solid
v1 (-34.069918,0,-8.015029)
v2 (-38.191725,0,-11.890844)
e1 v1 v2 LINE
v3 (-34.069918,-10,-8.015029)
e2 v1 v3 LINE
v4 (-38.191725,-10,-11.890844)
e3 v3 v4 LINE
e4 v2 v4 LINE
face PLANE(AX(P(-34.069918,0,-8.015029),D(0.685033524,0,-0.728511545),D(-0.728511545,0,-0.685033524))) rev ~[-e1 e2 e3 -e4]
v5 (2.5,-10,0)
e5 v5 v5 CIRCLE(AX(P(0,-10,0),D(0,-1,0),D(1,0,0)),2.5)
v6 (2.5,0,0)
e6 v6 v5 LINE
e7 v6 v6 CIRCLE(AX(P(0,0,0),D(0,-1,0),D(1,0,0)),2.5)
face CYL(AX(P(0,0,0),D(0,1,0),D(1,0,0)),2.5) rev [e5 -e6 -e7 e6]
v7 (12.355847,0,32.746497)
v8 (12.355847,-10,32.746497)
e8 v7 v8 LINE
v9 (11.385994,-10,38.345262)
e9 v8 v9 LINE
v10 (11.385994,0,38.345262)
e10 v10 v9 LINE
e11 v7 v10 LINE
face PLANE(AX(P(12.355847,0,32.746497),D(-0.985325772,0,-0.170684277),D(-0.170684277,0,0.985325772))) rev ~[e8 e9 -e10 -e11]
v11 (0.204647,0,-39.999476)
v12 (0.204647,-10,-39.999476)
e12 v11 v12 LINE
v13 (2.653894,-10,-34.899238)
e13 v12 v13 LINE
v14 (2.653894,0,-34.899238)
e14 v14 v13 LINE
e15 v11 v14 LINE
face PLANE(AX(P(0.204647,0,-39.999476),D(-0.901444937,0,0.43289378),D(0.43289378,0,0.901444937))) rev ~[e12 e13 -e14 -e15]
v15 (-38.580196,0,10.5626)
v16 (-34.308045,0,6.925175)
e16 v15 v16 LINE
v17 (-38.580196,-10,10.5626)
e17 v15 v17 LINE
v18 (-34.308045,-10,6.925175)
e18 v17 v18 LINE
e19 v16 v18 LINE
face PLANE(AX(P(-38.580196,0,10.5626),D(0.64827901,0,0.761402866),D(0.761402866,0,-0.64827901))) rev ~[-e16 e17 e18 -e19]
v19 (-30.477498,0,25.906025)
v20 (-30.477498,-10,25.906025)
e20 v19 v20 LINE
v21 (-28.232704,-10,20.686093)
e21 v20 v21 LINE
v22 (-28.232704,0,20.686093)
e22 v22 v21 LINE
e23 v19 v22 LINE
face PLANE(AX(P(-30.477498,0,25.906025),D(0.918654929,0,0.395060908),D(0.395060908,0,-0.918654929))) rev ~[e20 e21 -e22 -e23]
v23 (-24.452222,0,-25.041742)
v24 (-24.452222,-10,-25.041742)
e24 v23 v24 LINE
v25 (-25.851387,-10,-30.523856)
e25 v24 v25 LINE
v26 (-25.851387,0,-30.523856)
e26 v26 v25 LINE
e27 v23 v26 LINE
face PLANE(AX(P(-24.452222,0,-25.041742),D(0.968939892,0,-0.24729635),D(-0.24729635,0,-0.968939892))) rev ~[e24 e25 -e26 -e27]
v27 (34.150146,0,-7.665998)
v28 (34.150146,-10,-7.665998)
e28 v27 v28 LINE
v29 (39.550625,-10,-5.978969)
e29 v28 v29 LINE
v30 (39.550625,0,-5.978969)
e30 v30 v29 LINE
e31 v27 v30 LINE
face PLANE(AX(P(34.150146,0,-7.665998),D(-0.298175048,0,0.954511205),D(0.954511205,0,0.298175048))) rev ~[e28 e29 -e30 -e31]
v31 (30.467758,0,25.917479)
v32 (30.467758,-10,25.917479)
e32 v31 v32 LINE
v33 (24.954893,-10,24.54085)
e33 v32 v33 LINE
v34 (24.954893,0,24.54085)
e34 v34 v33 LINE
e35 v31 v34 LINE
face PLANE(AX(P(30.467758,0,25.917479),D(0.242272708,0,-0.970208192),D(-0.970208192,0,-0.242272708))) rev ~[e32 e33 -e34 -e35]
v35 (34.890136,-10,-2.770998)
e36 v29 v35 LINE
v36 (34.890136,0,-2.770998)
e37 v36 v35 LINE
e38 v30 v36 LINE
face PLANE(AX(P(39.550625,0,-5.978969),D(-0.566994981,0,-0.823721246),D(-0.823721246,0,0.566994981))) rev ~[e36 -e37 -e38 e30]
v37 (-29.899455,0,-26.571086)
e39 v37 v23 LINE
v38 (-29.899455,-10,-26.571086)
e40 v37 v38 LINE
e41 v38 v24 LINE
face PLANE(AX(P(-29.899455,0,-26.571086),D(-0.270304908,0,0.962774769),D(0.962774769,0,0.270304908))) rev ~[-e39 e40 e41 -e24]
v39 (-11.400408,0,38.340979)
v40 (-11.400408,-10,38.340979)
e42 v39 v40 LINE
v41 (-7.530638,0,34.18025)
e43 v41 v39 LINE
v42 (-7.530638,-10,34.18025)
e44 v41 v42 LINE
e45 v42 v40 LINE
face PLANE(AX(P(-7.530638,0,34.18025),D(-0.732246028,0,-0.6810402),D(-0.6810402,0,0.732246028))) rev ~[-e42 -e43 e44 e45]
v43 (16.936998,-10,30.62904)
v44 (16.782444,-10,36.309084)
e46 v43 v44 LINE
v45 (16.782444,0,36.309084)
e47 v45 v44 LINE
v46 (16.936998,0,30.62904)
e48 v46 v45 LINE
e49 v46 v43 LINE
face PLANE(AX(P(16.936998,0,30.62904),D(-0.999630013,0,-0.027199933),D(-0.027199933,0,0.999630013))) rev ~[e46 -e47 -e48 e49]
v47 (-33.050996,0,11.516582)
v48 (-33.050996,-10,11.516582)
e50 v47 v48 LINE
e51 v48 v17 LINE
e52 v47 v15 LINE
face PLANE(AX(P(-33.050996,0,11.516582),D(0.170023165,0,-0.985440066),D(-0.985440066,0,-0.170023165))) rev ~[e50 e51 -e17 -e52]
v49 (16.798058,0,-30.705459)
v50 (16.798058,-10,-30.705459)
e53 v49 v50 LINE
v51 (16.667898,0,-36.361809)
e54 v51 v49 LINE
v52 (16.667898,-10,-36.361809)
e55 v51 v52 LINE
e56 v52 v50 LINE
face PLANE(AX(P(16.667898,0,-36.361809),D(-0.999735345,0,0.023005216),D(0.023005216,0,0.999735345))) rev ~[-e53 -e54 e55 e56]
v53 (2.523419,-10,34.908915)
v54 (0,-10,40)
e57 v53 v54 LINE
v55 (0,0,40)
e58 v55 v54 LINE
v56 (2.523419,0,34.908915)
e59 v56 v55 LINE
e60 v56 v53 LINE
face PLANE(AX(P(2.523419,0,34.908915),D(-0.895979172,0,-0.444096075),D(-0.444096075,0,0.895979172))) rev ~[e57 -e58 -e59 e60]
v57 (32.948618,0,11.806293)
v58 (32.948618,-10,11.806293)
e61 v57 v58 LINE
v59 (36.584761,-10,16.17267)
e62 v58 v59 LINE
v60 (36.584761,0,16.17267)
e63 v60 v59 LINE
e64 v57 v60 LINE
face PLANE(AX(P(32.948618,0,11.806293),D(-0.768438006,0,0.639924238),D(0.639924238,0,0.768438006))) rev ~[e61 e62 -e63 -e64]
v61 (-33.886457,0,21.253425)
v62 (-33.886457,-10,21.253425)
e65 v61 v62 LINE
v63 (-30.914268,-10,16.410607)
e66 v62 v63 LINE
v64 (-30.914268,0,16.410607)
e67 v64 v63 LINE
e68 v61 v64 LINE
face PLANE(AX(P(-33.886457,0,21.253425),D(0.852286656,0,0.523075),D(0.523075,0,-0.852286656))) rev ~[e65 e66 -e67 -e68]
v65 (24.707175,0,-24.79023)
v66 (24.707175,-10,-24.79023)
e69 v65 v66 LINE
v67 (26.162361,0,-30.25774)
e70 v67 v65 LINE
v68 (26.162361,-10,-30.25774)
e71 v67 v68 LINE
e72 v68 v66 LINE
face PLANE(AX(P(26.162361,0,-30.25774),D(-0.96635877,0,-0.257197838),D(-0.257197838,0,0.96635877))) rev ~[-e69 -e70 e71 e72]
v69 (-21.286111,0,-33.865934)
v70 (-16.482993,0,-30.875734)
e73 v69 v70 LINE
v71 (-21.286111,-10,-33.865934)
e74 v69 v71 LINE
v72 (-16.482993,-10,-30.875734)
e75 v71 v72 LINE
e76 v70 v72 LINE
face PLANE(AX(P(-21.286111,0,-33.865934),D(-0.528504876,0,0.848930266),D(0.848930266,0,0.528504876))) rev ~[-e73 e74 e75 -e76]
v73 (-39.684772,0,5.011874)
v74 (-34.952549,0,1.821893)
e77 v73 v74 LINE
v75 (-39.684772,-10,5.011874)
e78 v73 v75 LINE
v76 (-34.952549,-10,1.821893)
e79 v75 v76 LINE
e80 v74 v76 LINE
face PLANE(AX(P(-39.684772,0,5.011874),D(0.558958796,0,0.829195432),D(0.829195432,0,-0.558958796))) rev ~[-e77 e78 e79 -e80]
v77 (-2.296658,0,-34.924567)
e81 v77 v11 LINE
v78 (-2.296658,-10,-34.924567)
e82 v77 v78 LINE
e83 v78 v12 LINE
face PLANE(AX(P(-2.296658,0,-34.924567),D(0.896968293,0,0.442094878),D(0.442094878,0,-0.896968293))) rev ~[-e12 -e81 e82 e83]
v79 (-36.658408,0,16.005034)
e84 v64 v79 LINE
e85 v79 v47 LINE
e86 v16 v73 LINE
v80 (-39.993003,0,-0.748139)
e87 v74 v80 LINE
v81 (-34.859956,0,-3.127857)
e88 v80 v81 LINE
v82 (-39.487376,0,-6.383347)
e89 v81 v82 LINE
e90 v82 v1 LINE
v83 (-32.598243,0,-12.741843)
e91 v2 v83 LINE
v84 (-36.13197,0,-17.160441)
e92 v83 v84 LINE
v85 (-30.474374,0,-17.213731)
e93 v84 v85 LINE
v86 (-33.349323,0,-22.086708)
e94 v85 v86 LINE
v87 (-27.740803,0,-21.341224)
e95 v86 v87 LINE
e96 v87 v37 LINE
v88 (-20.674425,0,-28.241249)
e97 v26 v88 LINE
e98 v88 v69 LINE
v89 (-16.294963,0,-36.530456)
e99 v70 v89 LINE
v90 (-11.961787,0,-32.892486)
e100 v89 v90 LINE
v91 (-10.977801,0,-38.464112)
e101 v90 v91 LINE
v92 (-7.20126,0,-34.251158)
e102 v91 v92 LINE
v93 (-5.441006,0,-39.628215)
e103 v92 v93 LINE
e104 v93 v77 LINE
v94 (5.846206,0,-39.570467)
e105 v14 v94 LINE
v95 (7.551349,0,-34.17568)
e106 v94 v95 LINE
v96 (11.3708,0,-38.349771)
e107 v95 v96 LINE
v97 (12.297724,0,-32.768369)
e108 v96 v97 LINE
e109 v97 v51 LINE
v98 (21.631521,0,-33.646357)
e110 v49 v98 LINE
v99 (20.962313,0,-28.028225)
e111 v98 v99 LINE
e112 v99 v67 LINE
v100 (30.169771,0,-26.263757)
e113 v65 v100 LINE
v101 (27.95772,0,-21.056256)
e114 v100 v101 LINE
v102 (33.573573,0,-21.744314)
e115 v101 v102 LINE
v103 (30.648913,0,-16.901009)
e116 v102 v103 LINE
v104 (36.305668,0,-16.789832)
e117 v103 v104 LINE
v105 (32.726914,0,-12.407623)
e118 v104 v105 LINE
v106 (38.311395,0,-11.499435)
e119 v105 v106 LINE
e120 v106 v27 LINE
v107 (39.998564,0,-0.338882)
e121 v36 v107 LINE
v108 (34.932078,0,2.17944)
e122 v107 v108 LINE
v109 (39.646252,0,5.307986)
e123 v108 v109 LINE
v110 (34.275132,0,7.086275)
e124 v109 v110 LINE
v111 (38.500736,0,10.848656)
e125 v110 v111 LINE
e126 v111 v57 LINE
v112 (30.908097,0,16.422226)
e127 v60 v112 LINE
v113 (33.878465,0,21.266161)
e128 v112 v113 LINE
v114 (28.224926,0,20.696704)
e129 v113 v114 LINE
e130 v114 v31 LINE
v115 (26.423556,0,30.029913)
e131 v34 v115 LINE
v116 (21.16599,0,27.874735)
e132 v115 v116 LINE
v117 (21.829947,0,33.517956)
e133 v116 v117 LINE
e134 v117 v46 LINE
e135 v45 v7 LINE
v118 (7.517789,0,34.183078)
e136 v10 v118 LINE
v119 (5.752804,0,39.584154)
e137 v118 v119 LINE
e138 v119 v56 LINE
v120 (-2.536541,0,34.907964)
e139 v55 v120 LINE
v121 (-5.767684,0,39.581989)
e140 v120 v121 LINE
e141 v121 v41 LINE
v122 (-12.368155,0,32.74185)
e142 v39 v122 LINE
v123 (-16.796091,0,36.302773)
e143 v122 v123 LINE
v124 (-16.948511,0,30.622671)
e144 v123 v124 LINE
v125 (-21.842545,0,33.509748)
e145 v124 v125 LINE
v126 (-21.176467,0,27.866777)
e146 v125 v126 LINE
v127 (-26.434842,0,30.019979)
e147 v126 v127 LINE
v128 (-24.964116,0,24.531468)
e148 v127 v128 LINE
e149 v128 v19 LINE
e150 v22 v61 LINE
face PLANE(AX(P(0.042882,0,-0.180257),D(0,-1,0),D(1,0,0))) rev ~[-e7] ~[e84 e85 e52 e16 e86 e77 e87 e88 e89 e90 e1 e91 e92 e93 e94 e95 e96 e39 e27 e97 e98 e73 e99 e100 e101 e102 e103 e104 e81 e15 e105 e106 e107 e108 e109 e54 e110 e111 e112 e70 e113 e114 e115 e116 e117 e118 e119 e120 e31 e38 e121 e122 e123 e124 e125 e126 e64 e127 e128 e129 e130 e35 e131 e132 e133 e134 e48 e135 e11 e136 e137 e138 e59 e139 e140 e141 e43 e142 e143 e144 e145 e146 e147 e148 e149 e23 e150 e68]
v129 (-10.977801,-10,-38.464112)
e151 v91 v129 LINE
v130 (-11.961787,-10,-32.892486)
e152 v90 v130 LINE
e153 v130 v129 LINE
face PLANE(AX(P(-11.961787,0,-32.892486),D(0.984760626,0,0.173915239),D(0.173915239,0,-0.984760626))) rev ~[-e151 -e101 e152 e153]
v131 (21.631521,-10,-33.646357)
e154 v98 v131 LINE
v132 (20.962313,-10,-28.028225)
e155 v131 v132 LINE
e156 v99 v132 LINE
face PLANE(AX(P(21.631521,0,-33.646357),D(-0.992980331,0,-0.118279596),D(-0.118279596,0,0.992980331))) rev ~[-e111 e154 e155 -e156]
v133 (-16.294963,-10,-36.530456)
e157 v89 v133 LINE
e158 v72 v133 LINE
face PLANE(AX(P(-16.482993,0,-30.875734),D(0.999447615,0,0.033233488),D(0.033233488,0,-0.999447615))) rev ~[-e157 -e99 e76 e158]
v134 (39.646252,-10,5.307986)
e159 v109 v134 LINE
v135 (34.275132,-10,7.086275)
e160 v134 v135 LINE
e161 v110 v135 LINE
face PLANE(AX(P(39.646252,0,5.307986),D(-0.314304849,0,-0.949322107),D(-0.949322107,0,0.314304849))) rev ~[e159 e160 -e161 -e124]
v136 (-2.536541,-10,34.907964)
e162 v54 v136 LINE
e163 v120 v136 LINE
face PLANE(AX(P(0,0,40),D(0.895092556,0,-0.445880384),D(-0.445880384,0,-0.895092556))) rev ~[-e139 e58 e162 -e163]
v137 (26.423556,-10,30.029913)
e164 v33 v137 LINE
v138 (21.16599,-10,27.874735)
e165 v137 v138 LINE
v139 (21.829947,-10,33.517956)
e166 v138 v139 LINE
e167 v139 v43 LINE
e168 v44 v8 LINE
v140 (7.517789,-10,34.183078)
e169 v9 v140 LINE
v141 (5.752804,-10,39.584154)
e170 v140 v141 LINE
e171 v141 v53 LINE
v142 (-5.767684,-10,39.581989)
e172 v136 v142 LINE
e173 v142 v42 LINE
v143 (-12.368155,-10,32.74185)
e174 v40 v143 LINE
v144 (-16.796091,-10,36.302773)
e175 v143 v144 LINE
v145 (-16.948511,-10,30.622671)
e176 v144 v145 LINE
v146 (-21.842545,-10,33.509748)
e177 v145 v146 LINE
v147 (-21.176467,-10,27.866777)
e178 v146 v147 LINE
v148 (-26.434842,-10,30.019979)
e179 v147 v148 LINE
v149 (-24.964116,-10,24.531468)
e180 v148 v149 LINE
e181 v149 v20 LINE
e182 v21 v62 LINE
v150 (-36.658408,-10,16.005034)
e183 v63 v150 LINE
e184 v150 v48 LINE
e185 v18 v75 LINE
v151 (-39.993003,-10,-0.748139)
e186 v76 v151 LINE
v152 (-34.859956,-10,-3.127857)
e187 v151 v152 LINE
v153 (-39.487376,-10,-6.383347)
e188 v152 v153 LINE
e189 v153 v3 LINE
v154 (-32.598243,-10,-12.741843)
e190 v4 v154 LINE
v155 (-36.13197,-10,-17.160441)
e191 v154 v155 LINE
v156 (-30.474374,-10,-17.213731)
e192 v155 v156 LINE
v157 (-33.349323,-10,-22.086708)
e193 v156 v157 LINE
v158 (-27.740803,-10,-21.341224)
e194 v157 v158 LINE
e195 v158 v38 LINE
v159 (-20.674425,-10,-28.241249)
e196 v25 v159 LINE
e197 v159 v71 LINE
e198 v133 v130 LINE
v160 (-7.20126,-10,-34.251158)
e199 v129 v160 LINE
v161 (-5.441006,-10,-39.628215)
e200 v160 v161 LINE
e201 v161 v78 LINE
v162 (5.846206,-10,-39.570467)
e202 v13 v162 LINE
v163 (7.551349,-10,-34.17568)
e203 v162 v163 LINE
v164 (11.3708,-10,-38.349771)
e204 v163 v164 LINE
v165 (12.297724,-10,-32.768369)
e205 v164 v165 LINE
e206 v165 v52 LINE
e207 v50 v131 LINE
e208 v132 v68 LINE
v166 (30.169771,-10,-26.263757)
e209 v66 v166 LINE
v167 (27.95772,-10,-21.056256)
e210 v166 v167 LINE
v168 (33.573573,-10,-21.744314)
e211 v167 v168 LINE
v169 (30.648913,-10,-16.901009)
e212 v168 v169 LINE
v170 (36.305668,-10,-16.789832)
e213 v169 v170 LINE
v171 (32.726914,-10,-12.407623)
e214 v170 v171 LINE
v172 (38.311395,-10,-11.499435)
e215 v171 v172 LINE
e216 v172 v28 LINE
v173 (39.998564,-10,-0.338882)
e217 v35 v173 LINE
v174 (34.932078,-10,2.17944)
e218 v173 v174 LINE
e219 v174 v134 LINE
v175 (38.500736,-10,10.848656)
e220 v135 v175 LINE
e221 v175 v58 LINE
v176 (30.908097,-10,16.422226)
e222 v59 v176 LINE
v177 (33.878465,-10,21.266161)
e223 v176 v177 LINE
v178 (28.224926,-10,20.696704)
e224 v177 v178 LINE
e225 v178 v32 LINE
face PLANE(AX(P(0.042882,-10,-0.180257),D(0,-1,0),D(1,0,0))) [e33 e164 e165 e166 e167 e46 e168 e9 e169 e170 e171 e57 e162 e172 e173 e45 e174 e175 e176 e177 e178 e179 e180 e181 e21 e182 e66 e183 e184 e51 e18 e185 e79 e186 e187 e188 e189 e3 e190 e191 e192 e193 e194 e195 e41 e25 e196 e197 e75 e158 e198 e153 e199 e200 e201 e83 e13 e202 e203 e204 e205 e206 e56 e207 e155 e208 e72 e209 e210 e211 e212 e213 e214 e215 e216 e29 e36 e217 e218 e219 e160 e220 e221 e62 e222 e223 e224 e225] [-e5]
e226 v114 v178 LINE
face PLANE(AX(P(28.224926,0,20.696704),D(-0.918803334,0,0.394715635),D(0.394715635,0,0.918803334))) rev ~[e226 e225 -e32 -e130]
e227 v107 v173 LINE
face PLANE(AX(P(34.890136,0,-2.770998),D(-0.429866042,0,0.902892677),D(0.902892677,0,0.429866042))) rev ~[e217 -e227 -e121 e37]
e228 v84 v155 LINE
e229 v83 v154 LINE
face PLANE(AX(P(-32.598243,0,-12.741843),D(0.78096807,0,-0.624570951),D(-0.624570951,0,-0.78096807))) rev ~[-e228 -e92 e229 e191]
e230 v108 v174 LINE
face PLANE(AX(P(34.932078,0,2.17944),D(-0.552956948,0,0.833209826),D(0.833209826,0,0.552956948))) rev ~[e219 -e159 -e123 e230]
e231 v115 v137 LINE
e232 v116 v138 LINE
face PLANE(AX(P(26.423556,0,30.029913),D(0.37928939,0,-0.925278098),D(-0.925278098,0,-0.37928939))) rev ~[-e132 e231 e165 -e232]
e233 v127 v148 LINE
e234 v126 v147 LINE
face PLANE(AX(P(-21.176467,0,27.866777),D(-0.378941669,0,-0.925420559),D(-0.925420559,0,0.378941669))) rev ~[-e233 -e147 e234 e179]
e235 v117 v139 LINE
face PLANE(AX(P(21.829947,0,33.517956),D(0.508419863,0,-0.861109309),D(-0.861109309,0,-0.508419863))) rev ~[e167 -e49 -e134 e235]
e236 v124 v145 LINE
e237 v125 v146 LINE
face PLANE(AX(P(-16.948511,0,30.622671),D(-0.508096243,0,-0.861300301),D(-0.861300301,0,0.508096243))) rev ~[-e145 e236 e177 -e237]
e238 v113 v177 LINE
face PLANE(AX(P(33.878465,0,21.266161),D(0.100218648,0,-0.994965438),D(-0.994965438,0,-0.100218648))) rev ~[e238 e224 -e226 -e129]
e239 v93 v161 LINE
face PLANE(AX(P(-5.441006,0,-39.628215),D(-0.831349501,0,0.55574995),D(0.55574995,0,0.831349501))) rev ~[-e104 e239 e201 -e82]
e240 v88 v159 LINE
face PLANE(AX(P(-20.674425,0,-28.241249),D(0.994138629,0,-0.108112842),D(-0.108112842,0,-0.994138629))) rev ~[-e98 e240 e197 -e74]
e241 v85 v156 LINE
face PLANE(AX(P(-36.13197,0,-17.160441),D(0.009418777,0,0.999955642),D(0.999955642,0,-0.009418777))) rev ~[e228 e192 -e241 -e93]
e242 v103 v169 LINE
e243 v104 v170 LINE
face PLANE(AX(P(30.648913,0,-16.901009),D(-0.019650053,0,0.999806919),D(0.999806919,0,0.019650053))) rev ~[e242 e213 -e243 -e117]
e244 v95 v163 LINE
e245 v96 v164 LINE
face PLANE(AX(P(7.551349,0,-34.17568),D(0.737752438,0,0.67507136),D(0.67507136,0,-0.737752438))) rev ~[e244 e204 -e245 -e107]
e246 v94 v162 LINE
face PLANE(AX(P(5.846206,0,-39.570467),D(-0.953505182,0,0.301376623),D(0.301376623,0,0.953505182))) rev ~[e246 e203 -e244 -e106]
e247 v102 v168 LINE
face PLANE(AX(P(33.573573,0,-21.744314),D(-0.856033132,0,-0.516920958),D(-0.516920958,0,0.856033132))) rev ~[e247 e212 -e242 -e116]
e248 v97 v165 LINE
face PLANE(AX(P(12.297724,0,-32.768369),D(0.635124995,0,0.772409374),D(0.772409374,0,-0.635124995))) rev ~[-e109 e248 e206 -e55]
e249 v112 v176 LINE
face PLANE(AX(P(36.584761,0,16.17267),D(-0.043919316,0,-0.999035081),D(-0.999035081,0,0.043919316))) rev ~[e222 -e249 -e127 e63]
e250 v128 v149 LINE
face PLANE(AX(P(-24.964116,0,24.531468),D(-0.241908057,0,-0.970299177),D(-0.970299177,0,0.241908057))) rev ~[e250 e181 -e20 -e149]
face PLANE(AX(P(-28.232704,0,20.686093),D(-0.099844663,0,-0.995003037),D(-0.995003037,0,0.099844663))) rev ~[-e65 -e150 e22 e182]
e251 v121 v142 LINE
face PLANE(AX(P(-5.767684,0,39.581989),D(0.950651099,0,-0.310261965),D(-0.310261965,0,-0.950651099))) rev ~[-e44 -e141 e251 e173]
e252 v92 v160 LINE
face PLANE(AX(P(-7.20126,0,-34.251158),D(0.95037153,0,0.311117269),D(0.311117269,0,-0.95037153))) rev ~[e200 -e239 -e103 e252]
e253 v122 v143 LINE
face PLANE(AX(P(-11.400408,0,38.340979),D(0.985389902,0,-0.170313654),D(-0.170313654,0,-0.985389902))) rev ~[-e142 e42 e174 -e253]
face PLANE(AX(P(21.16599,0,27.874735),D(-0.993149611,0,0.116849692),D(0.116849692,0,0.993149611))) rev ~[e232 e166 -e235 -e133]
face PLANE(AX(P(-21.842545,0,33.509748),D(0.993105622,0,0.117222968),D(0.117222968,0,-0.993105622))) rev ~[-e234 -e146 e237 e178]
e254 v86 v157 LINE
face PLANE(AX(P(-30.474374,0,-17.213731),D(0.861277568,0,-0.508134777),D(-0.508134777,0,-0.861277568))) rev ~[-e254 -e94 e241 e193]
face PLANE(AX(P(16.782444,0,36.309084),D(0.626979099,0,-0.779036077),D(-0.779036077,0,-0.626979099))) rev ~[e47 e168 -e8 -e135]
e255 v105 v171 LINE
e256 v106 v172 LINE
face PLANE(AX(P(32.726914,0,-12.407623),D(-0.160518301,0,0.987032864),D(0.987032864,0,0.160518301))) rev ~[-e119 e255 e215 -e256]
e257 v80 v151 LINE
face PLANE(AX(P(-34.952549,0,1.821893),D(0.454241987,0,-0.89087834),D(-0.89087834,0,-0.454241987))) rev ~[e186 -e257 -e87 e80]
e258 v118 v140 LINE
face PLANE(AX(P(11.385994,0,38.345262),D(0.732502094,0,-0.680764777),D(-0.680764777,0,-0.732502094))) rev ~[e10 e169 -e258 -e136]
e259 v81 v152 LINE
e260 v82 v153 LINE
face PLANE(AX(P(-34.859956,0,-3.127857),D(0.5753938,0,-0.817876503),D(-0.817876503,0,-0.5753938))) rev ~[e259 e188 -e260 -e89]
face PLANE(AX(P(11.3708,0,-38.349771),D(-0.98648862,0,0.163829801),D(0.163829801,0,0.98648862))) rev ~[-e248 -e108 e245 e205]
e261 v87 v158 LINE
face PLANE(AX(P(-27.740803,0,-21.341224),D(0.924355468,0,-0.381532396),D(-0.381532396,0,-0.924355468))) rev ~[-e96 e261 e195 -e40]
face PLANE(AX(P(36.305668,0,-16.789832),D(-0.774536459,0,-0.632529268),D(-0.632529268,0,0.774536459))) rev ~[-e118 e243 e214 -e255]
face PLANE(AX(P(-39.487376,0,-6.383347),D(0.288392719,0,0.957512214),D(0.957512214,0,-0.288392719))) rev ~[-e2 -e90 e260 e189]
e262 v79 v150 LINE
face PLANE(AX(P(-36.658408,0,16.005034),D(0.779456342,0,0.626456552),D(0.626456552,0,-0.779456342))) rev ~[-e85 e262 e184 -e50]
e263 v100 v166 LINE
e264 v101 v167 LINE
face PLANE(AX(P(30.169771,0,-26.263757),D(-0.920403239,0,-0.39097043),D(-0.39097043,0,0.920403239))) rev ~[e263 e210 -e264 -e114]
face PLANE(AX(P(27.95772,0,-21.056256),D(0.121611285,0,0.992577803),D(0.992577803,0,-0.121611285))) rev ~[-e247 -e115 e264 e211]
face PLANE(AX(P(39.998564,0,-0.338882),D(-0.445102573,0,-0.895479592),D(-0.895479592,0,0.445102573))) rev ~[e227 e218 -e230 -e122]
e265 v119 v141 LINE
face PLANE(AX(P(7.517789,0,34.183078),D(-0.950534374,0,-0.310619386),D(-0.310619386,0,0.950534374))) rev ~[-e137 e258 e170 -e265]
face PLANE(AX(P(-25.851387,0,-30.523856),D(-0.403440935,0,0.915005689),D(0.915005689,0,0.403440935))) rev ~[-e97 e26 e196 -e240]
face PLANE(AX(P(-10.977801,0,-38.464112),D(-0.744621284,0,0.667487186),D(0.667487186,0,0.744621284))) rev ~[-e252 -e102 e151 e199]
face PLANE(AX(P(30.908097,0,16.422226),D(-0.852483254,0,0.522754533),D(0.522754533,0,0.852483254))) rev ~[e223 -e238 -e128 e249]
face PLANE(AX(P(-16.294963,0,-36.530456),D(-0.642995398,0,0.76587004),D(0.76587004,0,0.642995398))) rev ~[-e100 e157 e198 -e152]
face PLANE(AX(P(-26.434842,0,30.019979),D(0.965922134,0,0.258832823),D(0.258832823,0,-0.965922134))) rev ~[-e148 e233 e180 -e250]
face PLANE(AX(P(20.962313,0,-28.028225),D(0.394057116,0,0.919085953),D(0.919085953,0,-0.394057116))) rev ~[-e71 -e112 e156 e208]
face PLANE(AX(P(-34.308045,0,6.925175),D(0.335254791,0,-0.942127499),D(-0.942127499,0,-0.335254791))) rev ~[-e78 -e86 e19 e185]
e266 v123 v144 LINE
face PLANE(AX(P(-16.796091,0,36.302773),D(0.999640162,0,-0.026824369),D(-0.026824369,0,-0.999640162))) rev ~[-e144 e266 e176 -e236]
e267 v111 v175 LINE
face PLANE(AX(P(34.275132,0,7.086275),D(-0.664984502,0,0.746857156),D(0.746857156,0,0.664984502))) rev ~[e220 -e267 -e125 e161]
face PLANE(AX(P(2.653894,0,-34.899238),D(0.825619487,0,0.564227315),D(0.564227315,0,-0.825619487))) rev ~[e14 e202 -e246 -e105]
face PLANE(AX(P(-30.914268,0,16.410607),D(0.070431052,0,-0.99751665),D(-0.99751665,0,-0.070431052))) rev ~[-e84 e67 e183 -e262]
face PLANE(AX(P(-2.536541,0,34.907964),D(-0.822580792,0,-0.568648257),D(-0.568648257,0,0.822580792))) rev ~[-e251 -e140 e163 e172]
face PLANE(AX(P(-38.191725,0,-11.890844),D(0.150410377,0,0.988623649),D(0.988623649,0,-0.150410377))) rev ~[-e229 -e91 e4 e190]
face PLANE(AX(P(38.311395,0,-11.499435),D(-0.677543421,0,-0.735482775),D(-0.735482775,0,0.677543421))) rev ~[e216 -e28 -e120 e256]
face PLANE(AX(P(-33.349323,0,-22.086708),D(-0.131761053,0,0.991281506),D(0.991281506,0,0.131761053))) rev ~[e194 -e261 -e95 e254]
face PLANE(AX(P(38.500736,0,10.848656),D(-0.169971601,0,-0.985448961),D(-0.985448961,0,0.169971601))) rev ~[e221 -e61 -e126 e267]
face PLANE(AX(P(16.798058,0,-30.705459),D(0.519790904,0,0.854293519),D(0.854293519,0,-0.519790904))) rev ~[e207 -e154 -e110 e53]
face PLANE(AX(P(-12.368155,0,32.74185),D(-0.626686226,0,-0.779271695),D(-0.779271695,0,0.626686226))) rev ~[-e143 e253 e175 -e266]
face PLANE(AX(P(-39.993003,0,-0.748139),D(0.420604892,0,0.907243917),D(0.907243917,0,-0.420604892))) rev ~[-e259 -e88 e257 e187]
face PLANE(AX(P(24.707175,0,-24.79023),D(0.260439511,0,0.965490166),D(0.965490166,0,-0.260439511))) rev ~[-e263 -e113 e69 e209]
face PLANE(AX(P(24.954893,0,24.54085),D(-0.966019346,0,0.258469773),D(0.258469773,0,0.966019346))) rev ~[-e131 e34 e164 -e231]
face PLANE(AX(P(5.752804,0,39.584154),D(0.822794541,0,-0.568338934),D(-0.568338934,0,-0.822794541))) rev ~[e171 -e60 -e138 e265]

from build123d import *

# Parameters (mm, degrees)
F0_R     = 2.5
F1_DEPTH = 10


with BuildPart() as f1:
    # F0 (on Front) → F1 (new body)
    with BuildSketch(Plane.XZ):
        Polygon((2.523419, 34.908915), (0, 40), (-2.536541, 34.907964), (-5.767684, 39.581989), (-7.530638, 34.18025), (-11.400408, 38.340979), (-12.368155, 32.74185), (-16.796091, 36.302773), (-16.948511, 30.622671), (-21.842545, 33.509748), (-21.176467, 27.866777), (-26.434842, 30.019979), (-24.964116, 24.531468), (-30.477498, 25.906025), (-28.232704, 20.686093), (-33.886457, 21.253425), (-30.914268, 16.410607), (-36.658408, 16.005034), (-33.050996, 11.516582), (-38.580196, 10.5626), (-34.308045, 6.925175), (-39.684772, 5.011874), (-34.952549, 1.821893), (-39.993003, -0.748139), (-34.859956, -3.127857), (-39.487376, -6.383347), (-34.069918, -8.015029), (-38.191725, -11.890844), (-32.598243, -12.741843), (-36.13197, -17.160441), (-30.474374, -17.213731), (-33.349323, -22.086708), (-27.740803, -21.341224), (-29.899455, -26.571086), (-24.452222, -25.041742), (-25.851387, -30.523856), (-20.674425, -28.241249), (-21.286111, -33.865934), (-16.482993, -30.875734), (-16.294963, -36.530456), (-11.961787, -32.892486), (-10.977801, -38.464112), (-7.20126, -34.251158), (-5.441006, -39.628215), (-2.296658, -34.924567), (0.204647, -39.999476), (2.653894, -34.899238), (5.846206, -39.570467), (7.551349, -34.17568), (11.3708, -38.349771), (12.297724, -32.768369), (16.667898, -36.361809), (16.798058, -30.705459), (21.631521, -33.646357), (20.962313, -28.028225), (26.162361, -30.25774), (24.707175, -24.79023), (30.169771, -26.263757), (27.95772, -21.056256), (33.573573, -21.744314), (30.648913, -16.901009), (36.305668, -16.789832), (32.726914, -12.407623), (38.311395, -11.499435), (34.150146, -7.665998), (39.550625, -5.978969), (34.890136, -2.770998), (39.998564, -0.338882), (34.932078, 2.17944), (39.646252, 5.307986), (34.275132, 7.086275), (38.500736, 10.848656), (32.948618, 11.806293), (36.584761, 16.17267), (30.908097, 16.422226), (33.878465, 21.266161), (28.224926, 20.696704), (30.467758, 25.917479), (24.954893, 24.54085), (26.423556, 30.029913), (21.16599, 27.874735), (21.829947, 33.517956), (16.936998, 30.62904), (16.782444, 36.309084), (12.355847, 32.746497), (11.385994, 38.345262), (7.517789, 34.183078), (5.752804, 39.584154), align=None)
        Circle(F0_R, mode=Mode.SUBTRACT)
    extrude(amount=F1_DEPTH)


solid = f1.part
